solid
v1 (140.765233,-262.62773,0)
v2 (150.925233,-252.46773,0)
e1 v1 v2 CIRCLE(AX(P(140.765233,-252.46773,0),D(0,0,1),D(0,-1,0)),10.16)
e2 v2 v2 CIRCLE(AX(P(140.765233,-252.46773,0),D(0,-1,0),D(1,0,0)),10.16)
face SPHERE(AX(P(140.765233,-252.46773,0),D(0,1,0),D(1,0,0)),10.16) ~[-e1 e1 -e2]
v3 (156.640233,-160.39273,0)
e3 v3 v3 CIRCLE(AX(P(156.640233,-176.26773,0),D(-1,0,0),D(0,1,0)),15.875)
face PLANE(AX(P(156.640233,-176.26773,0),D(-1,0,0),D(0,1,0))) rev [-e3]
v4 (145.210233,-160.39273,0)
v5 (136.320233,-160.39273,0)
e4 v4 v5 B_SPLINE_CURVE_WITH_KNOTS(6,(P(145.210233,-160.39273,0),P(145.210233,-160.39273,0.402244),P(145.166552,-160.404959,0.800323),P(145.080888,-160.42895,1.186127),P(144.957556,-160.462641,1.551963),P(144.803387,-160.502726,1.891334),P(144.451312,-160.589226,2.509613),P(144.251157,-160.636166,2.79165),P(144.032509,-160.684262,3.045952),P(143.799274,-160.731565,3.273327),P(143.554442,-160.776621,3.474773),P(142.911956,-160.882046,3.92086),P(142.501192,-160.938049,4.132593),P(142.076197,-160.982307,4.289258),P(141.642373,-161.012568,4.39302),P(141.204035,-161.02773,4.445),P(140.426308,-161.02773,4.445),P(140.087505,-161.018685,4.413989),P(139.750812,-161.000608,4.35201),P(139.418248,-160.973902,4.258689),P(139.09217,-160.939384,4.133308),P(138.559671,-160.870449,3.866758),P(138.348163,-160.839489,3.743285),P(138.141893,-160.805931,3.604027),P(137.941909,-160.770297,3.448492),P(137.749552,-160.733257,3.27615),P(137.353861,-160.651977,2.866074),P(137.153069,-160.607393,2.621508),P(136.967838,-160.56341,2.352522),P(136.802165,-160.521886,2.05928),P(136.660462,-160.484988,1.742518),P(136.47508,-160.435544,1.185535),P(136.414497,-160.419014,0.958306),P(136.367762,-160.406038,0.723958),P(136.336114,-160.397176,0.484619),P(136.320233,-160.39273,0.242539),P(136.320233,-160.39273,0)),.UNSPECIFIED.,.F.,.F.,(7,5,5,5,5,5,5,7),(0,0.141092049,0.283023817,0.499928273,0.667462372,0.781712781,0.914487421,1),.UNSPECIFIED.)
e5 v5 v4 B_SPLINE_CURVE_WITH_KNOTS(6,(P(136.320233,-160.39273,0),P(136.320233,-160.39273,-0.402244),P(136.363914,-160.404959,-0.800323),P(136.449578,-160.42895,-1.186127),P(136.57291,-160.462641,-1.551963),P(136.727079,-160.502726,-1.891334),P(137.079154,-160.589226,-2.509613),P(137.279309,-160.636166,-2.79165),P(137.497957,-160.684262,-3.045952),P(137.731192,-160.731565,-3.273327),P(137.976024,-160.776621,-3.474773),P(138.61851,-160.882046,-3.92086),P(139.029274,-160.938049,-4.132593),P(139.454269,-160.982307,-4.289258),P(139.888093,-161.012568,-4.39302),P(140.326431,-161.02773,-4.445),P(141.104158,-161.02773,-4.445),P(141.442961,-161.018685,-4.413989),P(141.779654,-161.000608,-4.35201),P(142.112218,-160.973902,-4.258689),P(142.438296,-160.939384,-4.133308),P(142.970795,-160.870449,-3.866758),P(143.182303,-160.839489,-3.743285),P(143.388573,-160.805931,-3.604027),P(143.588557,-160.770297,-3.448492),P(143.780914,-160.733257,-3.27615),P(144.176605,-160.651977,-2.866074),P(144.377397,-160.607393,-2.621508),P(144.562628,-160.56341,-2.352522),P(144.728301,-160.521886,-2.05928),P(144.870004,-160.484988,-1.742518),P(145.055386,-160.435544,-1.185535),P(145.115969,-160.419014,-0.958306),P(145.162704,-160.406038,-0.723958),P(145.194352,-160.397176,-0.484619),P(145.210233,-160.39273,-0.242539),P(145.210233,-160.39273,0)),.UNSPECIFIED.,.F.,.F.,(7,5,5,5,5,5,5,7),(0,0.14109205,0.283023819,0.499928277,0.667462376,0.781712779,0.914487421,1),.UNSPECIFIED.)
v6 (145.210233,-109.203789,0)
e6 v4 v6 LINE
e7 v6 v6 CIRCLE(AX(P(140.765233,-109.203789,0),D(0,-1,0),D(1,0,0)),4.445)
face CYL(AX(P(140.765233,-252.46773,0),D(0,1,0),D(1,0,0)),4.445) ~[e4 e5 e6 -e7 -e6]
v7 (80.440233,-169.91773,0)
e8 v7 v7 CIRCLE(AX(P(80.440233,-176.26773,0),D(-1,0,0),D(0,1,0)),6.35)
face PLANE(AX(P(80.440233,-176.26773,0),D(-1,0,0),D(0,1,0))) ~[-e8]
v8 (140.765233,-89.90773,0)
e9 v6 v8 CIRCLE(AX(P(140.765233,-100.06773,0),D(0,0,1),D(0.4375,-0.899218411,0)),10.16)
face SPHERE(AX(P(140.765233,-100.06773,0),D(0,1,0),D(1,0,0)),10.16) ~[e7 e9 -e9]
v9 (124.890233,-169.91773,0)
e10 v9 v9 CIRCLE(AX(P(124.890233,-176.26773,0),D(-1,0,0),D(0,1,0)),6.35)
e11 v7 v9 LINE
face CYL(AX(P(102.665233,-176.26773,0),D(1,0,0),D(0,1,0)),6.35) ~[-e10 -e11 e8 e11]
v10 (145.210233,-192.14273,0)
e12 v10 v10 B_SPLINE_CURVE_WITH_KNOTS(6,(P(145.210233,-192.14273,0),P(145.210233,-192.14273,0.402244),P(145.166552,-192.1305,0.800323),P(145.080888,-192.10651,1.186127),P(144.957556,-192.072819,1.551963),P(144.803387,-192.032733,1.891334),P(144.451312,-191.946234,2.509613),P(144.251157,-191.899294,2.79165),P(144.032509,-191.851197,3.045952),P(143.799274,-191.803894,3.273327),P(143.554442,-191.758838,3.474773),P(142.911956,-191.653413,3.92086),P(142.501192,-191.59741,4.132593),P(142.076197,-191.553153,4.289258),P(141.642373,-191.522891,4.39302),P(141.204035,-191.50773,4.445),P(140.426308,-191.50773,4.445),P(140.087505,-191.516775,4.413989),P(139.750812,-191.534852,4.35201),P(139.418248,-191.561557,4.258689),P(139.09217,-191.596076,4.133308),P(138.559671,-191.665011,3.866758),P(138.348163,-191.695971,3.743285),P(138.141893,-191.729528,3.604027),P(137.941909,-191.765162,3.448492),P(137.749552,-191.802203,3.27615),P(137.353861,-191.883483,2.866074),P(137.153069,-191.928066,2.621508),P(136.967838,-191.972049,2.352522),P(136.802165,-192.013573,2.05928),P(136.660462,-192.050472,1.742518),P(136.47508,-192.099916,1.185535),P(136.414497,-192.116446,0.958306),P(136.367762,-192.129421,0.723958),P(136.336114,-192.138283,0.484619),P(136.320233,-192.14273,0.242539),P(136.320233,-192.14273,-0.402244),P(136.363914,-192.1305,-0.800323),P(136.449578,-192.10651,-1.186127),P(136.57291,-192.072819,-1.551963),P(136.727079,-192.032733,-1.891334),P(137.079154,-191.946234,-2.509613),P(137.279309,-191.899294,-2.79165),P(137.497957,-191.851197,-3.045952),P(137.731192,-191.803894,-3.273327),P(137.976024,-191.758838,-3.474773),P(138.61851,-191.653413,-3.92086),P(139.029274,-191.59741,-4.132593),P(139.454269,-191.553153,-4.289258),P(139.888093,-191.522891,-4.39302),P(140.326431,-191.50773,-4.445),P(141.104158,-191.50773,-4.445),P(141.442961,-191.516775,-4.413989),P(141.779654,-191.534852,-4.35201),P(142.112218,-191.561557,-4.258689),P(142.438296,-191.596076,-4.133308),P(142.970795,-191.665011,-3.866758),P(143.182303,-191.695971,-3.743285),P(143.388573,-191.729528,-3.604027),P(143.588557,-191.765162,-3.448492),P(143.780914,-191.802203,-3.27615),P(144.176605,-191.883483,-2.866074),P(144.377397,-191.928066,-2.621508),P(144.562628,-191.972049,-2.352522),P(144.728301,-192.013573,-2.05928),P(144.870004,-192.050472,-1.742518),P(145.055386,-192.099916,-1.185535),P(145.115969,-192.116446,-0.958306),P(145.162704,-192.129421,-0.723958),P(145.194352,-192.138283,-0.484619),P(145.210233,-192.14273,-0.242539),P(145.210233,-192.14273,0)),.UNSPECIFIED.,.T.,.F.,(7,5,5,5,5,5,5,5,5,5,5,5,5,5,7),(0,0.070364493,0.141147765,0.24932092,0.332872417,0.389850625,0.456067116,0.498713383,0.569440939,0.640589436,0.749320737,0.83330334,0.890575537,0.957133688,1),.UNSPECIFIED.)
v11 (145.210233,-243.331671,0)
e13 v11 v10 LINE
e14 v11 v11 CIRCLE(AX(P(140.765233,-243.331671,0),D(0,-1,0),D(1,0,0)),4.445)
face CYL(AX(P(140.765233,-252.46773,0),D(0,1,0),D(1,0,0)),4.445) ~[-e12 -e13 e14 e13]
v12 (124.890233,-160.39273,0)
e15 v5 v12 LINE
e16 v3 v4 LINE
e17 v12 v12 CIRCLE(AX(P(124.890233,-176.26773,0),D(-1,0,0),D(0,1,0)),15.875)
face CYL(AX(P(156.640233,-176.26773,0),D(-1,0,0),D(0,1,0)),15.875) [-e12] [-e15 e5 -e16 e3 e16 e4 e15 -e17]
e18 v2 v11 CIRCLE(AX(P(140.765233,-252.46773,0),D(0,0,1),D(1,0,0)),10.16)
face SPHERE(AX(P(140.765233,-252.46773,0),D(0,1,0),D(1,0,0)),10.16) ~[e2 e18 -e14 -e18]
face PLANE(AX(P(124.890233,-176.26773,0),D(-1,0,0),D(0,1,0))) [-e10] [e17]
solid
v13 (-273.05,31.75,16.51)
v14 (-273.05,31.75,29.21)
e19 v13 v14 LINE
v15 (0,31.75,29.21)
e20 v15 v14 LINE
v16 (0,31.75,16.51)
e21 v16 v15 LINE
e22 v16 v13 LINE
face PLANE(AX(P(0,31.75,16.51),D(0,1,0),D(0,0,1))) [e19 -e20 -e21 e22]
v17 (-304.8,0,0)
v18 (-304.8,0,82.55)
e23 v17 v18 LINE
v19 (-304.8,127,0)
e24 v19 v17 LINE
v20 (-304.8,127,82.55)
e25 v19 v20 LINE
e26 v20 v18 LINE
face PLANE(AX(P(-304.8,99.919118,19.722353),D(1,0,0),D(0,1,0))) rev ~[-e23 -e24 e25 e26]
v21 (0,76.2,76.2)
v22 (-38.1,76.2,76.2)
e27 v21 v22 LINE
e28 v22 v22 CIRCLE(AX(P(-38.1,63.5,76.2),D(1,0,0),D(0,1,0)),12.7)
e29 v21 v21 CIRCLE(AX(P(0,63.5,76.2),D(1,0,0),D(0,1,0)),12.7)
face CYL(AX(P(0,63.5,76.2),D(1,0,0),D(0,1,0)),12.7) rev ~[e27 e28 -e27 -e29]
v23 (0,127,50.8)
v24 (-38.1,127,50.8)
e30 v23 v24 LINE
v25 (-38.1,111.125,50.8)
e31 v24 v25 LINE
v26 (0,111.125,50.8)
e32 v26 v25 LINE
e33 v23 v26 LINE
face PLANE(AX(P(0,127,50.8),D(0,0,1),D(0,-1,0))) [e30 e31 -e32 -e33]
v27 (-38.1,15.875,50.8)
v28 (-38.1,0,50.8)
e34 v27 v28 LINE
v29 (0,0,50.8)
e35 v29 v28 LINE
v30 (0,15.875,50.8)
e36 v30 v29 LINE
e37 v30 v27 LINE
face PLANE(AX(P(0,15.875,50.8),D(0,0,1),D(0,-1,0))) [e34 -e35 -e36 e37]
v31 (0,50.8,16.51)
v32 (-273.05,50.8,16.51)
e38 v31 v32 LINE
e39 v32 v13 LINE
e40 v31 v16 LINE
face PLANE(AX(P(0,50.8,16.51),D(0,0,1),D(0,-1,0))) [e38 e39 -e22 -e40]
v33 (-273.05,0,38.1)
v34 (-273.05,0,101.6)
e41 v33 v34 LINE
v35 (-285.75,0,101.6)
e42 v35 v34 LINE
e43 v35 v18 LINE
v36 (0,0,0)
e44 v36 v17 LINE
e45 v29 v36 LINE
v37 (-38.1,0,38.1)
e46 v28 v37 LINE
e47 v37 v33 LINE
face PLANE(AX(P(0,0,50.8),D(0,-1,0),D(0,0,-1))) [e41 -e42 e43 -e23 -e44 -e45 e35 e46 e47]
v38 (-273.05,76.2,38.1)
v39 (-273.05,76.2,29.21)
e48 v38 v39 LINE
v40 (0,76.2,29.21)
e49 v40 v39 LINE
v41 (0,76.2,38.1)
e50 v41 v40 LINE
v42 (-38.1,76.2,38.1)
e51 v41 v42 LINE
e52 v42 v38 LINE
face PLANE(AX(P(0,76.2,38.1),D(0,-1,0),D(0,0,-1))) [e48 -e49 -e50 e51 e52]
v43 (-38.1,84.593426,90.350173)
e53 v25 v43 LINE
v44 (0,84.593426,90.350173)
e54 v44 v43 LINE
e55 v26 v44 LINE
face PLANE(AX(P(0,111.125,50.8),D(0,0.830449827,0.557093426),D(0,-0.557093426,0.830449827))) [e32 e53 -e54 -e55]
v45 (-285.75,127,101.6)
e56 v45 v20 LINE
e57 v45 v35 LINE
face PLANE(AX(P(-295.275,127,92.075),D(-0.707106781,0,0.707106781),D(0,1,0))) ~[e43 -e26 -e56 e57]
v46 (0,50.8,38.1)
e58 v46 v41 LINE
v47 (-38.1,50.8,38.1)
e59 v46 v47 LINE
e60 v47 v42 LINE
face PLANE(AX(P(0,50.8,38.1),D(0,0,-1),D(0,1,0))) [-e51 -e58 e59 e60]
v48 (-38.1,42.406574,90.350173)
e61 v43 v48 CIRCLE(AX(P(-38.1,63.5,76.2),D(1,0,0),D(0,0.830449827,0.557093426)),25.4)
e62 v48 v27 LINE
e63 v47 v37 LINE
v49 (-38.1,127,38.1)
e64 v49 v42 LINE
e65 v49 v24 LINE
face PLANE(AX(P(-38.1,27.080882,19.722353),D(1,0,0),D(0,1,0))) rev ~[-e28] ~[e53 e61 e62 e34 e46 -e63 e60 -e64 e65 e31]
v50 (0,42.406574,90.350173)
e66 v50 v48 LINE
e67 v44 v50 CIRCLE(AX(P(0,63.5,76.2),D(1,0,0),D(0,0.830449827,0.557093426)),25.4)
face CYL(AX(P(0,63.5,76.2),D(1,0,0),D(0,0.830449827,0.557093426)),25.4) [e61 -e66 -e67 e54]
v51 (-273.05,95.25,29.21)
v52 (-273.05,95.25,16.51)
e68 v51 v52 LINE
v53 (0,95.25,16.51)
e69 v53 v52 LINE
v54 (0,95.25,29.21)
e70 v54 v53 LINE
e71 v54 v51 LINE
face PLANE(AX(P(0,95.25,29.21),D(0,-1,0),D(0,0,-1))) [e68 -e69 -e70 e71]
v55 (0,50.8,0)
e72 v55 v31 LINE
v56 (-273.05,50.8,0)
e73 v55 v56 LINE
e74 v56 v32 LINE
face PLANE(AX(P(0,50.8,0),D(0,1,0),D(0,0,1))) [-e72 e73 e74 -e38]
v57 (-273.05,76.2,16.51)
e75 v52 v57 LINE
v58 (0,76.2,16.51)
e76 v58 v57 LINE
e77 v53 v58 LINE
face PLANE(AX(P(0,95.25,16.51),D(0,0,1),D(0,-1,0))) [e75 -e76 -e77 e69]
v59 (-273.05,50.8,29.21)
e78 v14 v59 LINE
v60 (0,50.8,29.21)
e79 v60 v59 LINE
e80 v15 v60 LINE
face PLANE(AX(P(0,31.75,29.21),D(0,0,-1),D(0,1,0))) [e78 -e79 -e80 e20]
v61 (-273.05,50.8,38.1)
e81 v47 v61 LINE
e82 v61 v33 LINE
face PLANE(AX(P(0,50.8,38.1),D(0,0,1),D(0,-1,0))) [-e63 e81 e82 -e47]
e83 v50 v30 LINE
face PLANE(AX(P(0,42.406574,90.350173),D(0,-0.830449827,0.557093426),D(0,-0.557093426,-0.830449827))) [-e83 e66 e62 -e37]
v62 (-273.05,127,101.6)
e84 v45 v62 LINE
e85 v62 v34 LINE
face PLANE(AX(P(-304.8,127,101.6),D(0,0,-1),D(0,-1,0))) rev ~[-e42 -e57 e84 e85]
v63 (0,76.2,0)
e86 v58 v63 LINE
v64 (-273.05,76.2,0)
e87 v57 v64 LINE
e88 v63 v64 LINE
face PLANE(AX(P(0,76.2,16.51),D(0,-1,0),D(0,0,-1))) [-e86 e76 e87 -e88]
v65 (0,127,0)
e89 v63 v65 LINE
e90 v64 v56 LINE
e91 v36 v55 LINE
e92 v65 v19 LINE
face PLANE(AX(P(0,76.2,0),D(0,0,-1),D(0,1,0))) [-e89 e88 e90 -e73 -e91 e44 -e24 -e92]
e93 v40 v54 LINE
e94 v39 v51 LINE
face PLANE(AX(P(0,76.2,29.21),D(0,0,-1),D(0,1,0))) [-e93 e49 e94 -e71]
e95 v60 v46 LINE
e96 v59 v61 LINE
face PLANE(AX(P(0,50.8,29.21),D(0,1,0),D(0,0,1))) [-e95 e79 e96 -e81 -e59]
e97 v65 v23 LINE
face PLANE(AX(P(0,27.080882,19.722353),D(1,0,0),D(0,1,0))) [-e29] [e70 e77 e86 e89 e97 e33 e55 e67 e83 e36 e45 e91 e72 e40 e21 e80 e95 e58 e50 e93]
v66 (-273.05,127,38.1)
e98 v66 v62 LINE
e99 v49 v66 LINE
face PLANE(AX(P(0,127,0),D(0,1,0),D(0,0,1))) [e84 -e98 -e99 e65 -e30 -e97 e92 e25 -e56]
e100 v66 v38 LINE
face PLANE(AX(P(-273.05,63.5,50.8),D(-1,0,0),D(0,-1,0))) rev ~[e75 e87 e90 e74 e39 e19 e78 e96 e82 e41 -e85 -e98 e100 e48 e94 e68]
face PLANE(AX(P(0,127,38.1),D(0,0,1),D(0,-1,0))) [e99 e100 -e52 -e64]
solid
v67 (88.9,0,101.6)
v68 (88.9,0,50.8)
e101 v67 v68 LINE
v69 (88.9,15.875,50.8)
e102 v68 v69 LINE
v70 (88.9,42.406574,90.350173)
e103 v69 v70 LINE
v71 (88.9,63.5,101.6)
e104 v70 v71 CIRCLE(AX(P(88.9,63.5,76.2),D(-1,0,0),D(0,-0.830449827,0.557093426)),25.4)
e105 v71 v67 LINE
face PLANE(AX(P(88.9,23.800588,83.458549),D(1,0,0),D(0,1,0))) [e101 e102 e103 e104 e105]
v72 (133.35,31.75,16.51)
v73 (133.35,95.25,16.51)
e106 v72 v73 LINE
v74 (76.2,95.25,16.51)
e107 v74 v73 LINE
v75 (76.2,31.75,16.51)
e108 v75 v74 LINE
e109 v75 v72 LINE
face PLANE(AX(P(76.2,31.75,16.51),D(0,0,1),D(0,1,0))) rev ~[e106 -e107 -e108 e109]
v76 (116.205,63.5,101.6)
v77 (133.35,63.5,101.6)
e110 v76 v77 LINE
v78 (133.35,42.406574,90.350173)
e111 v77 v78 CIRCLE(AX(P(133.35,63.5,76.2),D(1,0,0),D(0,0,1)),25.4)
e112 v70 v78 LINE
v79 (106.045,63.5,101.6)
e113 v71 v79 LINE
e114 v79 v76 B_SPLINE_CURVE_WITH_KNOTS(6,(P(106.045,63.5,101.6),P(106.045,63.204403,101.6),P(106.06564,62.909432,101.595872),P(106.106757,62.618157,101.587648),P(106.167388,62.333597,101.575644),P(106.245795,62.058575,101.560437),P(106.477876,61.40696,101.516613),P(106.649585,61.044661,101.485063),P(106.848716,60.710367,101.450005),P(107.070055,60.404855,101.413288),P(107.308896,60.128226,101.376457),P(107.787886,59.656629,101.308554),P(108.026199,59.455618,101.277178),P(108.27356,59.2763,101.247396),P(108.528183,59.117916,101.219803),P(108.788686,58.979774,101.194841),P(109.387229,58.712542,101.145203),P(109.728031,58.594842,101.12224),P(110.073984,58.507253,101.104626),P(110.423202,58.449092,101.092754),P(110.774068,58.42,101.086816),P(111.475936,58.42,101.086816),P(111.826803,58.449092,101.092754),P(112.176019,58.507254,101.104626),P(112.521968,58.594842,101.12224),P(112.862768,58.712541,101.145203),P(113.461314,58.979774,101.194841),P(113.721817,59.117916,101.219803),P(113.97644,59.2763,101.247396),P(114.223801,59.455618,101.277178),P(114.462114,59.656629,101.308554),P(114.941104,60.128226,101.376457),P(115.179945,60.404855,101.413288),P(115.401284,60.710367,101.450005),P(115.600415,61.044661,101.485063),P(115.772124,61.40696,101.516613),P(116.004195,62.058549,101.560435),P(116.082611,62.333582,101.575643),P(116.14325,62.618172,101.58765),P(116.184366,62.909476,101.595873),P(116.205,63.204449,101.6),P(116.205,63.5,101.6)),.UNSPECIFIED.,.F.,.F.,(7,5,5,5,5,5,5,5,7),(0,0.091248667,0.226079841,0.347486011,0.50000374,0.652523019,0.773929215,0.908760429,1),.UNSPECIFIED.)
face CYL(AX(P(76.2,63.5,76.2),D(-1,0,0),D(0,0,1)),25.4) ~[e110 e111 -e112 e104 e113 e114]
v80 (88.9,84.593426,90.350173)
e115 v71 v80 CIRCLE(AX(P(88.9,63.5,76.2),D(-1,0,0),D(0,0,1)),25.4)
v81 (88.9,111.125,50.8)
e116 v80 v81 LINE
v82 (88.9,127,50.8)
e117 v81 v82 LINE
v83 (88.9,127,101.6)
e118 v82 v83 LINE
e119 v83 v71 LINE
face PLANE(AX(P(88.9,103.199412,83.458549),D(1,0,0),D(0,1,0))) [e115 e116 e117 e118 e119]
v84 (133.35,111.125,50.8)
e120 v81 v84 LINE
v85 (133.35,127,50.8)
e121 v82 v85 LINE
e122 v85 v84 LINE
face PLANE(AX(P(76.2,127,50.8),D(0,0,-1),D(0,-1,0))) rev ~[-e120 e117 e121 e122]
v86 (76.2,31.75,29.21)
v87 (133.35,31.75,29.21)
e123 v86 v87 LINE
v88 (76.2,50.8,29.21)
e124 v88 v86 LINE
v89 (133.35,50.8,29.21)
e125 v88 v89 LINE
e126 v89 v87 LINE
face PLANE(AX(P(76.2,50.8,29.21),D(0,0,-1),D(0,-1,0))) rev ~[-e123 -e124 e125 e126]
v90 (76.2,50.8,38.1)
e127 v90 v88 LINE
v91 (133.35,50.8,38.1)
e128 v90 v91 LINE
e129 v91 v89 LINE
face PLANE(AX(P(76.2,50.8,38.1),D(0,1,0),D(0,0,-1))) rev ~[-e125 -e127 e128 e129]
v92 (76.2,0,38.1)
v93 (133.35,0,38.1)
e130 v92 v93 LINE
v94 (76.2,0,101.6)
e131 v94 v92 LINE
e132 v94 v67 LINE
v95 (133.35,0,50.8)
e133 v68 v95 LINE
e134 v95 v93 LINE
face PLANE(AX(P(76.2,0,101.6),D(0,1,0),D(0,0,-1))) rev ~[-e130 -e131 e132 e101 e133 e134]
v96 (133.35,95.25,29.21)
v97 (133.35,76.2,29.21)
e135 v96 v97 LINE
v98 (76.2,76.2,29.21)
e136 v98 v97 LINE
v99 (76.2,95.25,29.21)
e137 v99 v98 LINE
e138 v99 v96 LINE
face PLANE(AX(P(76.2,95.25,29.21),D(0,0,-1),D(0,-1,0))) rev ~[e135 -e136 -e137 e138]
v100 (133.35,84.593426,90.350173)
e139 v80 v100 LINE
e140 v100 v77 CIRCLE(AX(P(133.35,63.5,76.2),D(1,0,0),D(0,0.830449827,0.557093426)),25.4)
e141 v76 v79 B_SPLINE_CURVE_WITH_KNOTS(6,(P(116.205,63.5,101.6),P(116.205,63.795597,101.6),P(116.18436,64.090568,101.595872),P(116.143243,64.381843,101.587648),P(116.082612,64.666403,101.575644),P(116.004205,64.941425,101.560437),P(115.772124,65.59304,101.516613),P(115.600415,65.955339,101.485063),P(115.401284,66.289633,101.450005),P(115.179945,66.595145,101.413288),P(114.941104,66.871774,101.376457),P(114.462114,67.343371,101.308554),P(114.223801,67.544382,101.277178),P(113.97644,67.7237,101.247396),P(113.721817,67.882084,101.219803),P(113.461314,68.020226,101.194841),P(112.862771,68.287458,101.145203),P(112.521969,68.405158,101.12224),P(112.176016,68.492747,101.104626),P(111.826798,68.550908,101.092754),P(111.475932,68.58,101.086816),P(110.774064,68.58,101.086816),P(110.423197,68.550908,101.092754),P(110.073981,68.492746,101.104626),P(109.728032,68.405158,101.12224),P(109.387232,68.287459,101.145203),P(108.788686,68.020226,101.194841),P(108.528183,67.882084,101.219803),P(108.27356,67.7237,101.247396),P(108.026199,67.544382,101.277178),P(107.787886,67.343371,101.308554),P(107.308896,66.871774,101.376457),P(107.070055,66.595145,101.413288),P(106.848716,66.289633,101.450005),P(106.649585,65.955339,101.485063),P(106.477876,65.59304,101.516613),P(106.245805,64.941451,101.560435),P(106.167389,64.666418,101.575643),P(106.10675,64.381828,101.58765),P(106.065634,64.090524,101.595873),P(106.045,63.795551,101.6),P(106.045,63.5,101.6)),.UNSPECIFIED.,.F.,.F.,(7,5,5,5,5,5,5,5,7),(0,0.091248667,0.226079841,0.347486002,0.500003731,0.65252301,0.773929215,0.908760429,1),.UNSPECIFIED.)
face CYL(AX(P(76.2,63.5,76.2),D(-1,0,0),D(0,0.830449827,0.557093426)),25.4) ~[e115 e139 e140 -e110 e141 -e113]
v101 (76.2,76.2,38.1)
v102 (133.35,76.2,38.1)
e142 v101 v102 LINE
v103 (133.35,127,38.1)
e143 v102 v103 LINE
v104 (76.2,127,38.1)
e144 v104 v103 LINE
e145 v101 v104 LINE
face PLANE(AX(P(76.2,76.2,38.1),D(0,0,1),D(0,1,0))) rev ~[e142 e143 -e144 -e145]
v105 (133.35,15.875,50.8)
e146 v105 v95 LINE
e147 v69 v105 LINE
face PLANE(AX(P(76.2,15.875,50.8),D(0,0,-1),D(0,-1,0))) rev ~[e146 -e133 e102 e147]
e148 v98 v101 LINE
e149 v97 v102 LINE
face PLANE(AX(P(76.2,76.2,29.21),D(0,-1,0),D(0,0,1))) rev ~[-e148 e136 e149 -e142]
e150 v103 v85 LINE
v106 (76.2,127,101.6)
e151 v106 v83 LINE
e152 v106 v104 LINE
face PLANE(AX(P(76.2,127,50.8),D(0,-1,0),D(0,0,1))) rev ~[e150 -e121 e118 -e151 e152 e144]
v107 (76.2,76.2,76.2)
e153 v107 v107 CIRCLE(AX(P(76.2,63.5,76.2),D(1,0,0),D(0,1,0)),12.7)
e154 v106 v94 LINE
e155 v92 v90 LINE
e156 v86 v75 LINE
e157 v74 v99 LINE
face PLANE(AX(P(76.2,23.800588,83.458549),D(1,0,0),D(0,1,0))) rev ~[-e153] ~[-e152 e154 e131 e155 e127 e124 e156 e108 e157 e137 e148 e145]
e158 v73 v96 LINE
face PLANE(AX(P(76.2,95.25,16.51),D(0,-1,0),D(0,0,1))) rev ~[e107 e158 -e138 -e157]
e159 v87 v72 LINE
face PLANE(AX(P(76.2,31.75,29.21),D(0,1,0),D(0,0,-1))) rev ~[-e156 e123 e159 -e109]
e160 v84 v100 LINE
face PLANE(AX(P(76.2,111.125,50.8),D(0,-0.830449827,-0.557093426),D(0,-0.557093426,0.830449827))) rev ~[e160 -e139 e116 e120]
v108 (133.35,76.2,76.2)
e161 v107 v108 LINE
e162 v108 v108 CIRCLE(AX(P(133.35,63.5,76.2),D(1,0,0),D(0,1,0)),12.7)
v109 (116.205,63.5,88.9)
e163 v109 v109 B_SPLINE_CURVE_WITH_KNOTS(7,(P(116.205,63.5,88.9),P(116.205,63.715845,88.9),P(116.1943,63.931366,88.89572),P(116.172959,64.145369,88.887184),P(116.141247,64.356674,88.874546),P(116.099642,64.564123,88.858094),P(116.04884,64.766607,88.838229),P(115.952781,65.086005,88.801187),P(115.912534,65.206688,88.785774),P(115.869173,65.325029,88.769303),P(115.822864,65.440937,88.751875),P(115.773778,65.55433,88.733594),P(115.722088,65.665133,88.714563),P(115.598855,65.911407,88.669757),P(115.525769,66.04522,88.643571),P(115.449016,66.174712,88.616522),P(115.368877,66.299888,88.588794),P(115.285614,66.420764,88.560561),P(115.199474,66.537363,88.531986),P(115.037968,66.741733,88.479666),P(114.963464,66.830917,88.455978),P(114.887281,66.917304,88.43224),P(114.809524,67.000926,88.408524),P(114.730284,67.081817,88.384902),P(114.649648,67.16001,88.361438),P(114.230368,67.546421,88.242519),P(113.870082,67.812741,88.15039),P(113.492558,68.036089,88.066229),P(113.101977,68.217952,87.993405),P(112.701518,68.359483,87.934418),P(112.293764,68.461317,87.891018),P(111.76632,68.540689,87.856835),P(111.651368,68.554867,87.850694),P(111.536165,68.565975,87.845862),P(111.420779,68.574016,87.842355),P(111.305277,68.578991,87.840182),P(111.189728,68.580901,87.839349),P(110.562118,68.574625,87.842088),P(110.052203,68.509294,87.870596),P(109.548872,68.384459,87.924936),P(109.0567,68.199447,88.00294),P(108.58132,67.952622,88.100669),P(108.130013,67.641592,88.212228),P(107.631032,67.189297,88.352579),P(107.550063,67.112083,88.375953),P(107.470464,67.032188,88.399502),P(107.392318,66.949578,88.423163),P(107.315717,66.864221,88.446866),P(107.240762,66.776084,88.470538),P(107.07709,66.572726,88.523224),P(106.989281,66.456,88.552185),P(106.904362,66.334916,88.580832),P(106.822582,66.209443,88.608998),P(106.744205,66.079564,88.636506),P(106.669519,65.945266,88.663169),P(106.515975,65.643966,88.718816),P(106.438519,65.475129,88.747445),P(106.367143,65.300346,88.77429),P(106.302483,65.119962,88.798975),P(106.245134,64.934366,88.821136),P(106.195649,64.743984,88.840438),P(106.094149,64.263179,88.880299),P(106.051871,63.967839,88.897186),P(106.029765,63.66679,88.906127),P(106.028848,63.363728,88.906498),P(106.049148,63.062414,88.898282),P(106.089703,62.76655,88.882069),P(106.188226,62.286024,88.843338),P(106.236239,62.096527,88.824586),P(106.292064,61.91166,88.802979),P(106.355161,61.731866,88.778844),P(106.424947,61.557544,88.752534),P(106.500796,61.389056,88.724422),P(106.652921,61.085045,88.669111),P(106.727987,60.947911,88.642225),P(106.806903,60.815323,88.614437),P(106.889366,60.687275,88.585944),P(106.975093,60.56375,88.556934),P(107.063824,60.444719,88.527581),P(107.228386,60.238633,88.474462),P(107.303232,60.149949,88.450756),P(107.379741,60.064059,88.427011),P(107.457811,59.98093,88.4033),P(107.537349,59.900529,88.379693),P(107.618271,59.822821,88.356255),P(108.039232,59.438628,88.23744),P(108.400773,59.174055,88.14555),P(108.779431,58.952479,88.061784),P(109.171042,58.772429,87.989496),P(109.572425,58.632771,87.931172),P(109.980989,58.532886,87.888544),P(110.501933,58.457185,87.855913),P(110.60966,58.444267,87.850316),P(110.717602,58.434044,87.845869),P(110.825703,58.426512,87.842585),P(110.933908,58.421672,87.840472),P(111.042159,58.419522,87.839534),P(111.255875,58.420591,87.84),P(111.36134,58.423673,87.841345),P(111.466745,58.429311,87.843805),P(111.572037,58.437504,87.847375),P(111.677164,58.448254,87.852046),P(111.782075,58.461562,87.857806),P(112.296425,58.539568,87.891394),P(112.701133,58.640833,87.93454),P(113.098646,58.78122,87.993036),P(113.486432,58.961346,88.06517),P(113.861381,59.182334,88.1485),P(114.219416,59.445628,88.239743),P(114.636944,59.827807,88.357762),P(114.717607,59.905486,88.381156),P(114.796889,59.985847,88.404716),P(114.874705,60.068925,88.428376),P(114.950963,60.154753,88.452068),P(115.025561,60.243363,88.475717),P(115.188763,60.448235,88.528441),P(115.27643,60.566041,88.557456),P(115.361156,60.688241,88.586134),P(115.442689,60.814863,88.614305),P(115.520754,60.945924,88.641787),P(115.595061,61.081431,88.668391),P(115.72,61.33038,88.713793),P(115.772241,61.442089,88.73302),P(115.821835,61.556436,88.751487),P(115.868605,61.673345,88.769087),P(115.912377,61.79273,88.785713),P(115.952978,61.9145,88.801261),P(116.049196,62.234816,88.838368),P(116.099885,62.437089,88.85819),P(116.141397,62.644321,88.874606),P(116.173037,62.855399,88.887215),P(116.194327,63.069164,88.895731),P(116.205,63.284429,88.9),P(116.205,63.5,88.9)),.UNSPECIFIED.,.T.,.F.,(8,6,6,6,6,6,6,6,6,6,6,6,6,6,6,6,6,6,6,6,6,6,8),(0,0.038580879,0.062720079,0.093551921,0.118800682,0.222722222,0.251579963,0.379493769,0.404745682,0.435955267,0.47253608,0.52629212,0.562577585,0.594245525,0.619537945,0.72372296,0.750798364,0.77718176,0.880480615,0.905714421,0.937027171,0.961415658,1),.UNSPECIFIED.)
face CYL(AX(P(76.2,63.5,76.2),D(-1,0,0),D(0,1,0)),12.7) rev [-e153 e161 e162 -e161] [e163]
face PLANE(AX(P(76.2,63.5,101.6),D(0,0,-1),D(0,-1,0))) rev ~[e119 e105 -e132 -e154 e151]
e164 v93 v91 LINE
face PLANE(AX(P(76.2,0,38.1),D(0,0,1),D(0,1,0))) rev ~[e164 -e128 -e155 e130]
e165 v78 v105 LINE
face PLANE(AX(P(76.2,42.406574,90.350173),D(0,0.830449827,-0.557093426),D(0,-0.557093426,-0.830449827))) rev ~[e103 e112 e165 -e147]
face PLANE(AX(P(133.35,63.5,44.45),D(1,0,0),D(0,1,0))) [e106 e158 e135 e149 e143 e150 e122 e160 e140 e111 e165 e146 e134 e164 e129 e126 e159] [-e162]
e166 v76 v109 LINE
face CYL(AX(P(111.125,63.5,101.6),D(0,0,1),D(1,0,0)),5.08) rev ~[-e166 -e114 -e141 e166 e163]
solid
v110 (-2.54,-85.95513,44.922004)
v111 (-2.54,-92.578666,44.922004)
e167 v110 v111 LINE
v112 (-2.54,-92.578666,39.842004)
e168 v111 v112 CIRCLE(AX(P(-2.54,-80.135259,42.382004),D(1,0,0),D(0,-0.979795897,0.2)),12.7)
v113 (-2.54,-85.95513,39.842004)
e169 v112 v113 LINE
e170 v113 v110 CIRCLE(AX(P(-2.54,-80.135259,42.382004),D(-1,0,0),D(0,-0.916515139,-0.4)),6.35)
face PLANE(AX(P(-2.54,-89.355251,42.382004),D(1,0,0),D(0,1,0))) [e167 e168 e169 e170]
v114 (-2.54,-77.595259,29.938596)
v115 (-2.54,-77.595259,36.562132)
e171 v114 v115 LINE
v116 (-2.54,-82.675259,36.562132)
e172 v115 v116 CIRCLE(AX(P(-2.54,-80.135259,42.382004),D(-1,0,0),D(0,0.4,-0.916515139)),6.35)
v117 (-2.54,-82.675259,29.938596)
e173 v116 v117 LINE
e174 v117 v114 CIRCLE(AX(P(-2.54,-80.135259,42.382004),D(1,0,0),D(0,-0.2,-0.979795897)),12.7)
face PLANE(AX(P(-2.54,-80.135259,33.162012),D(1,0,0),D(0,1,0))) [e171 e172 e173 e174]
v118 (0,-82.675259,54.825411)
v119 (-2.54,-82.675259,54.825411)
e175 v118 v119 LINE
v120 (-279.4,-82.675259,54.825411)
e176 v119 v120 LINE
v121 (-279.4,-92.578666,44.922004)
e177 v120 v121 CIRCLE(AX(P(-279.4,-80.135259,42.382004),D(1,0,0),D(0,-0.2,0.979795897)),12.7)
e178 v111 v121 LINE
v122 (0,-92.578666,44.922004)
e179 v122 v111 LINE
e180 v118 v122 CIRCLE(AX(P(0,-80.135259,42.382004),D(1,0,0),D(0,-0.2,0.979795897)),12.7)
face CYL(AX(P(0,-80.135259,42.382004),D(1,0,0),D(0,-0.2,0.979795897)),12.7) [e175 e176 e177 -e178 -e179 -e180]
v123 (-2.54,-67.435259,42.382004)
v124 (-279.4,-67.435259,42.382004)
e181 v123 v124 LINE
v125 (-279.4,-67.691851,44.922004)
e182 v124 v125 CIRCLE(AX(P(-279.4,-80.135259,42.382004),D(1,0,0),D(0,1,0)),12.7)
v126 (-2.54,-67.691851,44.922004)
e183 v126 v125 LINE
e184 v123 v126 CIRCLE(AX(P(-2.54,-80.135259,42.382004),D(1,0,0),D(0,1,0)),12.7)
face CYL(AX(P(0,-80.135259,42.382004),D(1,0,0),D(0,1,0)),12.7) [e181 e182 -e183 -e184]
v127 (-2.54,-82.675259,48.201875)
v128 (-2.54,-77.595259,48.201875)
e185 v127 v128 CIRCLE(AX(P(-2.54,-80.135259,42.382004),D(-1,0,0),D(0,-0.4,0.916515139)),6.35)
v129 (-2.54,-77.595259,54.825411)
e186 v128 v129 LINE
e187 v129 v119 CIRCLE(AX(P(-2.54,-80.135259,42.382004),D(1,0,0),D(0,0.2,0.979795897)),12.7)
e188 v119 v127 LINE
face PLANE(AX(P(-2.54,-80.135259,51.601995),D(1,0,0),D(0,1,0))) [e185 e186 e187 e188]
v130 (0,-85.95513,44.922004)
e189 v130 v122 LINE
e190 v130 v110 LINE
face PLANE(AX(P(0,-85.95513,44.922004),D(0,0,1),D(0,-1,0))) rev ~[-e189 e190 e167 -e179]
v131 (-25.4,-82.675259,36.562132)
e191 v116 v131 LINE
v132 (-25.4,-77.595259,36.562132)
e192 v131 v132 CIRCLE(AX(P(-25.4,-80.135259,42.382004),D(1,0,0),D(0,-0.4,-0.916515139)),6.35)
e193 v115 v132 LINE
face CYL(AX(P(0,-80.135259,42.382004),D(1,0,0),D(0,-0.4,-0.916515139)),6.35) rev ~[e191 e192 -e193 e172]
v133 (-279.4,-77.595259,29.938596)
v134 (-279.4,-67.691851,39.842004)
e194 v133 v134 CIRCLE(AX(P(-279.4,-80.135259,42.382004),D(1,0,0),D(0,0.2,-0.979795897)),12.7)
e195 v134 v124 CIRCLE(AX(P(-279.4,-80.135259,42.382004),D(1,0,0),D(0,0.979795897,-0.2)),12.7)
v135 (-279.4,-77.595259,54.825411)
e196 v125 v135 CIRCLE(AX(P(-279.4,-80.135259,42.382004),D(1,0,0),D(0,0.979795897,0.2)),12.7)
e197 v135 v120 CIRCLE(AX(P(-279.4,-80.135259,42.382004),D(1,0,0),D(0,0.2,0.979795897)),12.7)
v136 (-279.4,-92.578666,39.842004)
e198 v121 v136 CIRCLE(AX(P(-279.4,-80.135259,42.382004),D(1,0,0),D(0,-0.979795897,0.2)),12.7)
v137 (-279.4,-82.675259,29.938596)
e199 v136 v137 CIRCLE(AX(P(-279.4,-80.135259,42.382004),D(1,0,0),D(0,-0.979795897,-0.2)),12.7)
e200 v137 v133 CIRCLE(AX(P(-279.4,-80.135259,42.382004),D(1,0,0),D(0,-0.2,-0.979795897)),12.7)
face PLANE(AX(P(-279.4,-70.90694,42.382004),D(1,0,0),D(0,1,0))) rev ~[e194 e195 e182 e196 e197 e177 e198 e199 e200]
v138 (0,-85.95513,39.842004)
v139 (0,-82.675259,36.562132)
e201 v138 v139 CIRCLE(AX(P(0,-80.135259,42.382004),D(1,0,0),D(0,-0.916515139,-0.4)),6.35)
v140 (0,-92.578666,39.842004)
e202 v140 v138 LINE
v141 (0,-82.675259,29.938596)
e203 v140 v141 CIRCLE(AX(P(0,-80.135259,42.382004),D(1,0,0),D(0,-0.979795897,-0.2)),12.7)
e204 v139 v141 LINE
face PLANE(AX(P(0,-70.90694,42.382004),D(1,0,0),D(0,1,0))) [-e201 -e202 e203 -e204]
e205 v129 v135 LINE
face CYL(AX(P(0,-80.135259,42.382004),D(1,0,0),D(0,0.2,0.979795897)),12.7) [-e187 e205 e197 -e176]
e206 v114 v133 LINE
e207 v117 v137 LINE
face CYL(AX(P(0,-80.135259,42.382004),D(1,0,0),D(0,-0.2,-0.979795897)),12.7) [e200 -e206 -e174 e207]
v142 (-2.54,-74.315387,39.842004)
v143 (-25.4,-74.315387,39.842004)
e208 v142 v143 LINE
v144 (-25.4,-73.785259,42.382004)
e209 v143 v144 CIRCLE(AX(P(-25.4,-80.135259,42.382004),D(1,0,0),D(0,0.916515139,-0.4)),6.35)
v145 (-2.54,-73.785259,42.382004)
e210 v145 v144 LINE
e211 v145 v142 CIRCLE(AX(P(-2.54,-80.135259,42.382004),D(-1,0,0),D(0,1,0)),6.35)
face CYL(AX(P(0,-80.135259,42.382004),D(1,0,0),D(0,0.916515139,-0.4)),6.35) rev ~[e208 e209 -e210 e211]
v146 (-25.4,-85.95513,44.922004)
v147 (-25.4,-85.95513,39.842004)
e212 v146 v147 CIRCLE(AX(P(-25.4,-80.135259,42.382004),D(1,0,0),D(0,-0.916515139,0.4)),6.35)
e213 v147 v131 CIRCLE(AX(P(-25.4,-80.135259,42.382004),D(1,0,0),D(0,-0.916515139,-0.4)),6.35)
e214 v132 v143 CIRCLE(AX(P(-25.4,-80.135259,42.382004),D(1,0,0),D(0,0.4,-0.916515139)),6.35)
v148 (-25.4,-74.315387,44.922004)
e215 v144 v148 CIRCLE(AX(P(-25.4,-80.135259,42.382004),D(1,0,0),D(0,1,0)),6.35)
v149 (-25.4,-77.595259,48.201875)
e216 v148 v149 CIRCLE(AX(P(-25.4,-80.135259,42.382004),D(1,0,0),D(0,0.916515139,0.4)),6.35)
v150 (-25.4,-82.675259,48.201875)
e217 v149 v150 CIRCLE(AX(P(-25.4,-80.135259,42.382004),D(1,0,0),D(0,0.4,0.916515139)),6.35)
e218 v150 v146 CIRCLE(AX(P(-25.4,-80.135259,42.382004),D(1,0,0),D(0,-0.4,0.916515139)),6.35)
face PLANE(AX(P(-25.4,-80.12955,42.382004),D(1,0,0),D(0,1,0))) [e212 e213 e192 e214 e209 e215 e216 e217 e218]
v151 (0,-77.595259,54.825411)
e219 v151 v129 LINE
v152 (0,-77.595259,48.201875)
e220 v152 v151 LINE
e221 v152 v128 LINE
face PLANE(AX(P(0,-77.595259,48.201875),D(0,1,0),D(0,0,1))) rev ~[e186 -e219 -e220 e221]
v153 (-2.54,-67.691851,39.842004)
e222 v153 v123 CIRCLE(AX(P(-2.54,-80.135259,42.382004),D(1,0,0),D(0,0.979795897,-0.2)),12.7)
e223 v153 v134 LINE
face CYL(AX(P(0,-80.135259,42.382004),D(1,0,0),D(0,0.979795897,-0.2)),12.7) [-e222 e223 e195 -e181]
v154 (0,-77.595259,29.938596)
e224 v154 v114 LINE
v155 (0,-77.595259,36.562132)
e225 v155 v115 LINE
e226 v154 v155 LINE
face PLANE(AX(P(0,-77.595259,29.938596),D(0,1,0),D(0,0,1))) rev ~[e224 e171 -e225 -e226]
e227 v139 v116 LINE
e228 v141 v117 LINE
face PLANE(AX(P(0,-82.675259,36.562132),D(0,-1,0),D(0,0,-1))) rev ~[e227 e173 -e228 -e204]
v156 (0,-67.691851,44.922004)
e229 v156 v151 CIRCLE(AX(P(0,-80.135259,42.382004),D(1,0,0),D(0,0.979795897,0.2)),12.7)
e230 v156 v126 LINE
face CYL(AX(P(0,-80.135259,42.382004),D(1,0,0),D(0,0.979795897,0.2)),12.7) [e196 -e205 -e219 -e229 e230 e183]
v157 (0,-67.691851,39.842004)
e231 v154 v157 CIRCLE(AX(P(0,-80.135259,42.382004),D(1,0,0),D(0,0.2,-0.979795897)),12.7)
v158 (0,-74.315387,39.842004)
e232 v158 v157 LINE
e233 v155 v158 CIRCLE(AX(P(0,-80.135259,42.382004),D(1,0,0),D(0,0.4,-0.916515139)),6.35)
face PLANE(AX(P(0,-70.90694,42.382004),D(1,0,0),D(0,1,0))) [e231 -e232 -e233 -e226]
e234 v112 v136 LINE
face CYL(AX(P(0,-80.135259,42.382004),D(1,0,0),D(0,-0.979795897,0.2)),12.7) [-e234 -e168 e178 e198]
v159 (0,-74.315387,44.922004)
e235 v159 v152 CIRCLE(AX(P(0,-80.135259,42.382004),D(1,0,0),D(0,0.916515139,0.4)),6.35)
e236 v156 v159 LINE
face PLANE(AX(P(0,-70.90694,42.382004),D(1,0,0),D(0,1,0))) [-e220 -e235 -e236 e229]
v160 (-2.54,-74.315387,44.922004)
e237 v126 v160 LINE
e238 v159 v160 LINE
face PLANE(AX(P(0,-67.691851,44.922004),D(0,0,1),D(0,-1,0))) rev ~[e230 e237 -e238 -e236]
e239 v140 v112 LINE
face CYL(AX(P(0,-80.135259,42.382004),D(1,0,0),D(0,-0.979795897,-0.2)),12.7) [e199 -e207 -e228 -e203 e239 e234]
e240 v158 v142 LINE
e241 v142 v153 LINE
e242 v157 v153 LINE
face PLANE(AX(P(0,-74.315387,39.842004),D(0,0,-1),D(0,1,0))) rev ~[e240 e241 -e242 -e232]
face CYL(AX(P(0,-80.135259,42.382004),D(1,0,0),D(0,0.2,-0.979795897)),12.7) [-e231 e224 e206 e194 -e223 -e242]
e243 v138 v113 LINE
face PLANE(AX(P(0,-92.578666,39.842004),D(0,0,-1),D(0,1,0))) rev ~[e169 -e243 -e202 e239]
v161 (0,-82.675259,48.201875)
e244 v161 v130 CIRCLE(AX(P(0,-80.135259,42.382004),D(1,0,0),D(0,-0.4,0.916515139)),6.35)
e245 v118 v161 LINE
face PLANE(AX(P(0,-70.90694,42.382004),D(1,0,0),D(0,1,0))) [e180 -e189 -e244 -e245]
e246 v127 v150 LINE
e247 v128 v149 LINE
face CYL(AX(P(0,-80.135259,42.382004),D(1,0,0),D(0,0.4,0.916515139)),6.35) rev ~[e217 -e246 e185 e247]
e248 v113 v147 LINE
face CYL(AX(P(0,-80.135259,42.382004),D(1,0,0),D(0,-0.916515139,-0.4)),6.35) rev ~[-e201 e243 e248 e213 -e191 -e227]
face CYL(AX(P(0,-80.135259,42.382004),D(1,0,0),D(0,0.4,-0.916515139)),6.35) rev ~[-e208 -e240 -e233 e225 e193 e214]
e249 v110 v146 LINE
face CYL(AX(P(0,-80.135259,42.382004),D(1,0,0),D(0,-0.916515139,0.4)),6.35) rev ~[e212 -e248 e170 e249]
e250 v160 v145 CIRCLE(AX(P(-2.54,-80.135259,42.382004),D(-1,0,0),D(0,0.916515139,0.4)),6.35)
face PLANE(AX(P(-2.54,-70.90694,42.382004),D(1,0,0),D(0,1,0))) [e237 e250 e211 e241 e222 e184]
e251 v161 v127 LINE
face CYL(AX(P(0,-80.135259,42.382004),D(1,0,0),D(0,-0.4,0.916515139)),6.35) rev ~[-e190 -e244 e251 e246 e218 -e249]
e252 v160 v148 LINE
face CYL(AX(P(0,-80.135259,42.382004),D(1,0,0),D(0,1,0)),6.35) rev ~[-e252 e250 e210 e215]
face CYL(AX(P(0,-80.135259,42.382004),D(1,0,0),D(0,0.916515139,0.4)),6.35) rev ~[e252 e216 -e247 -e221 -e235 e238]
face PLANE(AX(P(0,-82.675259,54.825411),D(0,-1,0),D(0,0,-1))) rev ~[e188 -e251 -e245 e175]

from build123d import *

# Parameters (mm, degrees)
F0_R      = 12.7
F1_DEPTH  = 38.1
F2_DEPTH  = 304.8
F3_W      = 127
F3_H      = 101.6
F4_DEPTH  = 31.75
F5_SIZE2  = 19.05
F5_SIZE   = 19.05
F7_R      = 12.7
F8_DEPTH  = 57.15
F9_DEPTH  = 12.7
F10_R     = 5.08
F11_DEPTH = 14.7602578338
F13_DEPTH = 279.4
F14_DEPTH = 25.4
F15_DEPTH = 2.54
F16_W     = 4.445
F16_H     = 15.875
F16_W_2   = 11.43
F16_W_3   = 44.45
F16_H_2   = 6.35


with BuildPart() as f1:
    # F0 (on Right) → F1 (new body)
    with BuildSketch(Plane.YZ):
        Polygon((0, 38.1), (0, 0), (50.8, 0), (50.8, 16.51), (31.75, 16.51), (31.75, 29.21), (50.8, 29.21), (50.8, 38.1), align=None)
        Polygon((76.2, 16.51), (76.2, 0), (127, 0), (127, 38.1), (76.2, 38.1), (76.2, 29.21), (95.25, 29.21), (95.25, 16.51), align=None)
        with BuildLine():
            Line((42.4065743945, 90.3501730104), (15.875, 50.8))
            Line((15.875, 50.8), (111.125, 50.8))
            Line((111.125, 50.8), (84.5934256055, 90.3501730104))
            ThreePointArc((84.5934256055, 90.3501730104), (63.5, 101.6), (42.4065743945, 90.3501730104))
        make_face()
        with Locations((63.5, 76.2)):
            Circle(F0_R, mode=Mode.SUBTRACT)
        Polygon((0, 50.8), (0, 38.1), (50.8, 38.1), (76.2, 38.1), (127, 38.1), (127, 50.8), (111.125, 50.8), (15.875, 50.8), align=None)
    extrude(amount=-F1_DEPTH)

    # F0 (on Right) → F2 (join)
    with BuildSketch(Plane.YZ):
        Polygon((76.2, 16.51), (76.2, 0), (127, 0), (127, 38.1), (76.2, 38.1), (76.2, 29.21), (95.25, 29.21), (95.25, 16.51), align=None)
        Polygon((0, 38.1), (0, 0), (50.8, 0), (50.8, 16.51), (31.75, 16.51), (31.75, 29.21), (50.8, 29.21), (50.8, 38.1), align=None)
    extrude(amount=-F2_DEPTH)

    # F3 (on face) → F4 (join)
    with BuildSketch(Plane(origin=(-304.8, 0, 0), x_dir=(0, -1, 0), z_dir=(-1, 0, 0))):
        with Locations((-63.5, 50.8)):
            Rectangle(F3_W, F3_H)
    extrude(amount=-F4_DEPTH)

    # F5
    f5_edges = [f1.edges().sort_by_distance(p)[0] for p in [
        (-304.8, 63.5, 101.6),
    ]]
    chamfer(f5_edges, length=F5_SIZE, length2=F5_SIZE2)


with BuildPart() as f8:
    # F7 (on offset) → F8 (new body)
    with BuildSketch(Plane.YZ.offset(76.2)):
        Polygon((111.125, 50.8), (15.875, 50.8), (0, 50.8), (0, 38.1), (50.8, 38.1), (76.2, 38.1), (127, 38.1), (127, 50.8), align=None)
        with BuildLine():
            Line((42.4065743945, 90.3501730104), (15.875, 50.8))
            Line((15.875, 50.8), (111.125, 50.8))
            Line((111.125, 50.8), (84.5934256055, 90.3501730104))
            ThreePointArc((84.5934256055, 90.3501730104), (75.4529411765, 98.6117647059), (63.5, 101.6))
            ThreePointArc((63.5, 101.6), (51.5470588235, 98.6117647059), (42.4065743945, 90.3501730104))
        make_face()
        with Locations((63.5, 76.2)):
            Circle(F7_R, mode=Mode.SUBTRACT)
        Polygon((76.2, 38.1), (50.8, 38.1), (50.8, 29.21), (31.75, 29.21), (31.75, 16.51), (50.8, 16.51), (76.2, 16.51), (95.25, 16.51), (95.25, 29.21), (76.2, 29.21), align=None)
    extrude(amount=F8_DEPTH)

    # F7 (on offset) → F9 (join)
    with BuildSketch(Plane.YZ.offset(76.2)):
        with BuildLine():
            Line((0, 50.8), (15.875, 50.8))
            Line((15.875, 50.8), (42.4065743945, 90.3501730104))
            ThreePointArc((42.4065743945, 90.3501730104), (51.5470588235, 98.6117647059), (63.5, 101.6))
            Line((63.5, 101.6), (0, 101.6))
            Line((0, 101.6), (0, 50.8))
        make_face()
        with BuildLine():
            Line((84.5934256055, 90.3501730104), (111.125, 50.8))
            Line((111.125, 50.8), (127, 50.8))
            Line((127, 50.8), (127, 101.6))
            Line((127, 101.6), (63.5, 101.6))
            ThreePointArc((63.5, 101.6), (75.4529411765, 98.6117647059), (84.5934256055, 90.3501730104))
        make_face()
    extrude(amount=F9_DEPTH)

    # F10 (on face) → F11 (cut, up to face)
    with BuildSketch(Plane.XY.offset(101.6)):
        with Locations((111.125, 63.5)):
            Circle(F10_R)
    extrude(amount=-F11_DEPTH, mode=Mode.SUBTRACT)


with BuildPart() as f13:
    # F12 (on Right) → F13 (new body)
    with BuildSketch(Plane.YZ):
        with BuildLine():
            ThreePointArc((-74.31538743, 44.9220035141), (-73.9192034755, 43.6793697515), (-73.7852585626, 42.3820035141))
            ThreePointArc((-73.7852585626, 42.3820035141), (-73.9192034755, 41.0846372766), (-74.31538743, 39.8420035141))
            Line((-74.31538743, 39.8420035141), (-67.6918506693, 39.8420035141))
            ThreePointArc((-67.6918506693, 39.8420035141), (-67.4995694194, 41.1055396966), (-67.4352585626, 42.3820035141))
            ThreePointArc((-67.4352585626, 42.3820035141), (-67.4995694194, 43.6584673315), (-67.6918506693, 44.9220035141))
            Line((-67.6918506693, 44.9220035141), (-74.31538743, 44.9220035141))
        make_face()
        with BuildLine():
            ThreePointArc((-77.5952585626, 48.2018746466), (-75.6451305021, 46.8721315746), (-74.31538743, 44.9220035141))
            Line((-74.31538743, 44.9220035141), (-67.6918506693, 44.9220035141))
            ThreePointArc((-67.6918506693, 44.9220035141), (-71.1550024415, 51.3622596351), (-77.5952585626, 54.8254114074))
            Line((-77.5952585626, 54.8254114074), (-77.5952585626, 48.2018746466))
        make_face()
        with BuildLine():
            Line((-67.6918506693, 39.8420035141), (-74.31538743, 39.8420035141))
            ThreePointArc((-74.31538743, 39.8420035141), (-75.6451305021, 37.8918754535), (-77.5952585626, 36.5621323815))
            Line((-77.5952585626, 36.5621323815), (-77.5952585626, 29.9385956207))
            ThreePointArc((-77.5952585626, 29.9385956207), (-71.1550024415, 33.401747393), (-67.6918506693, 39.8420035141))
        make_face()
        with BuildLine():
            ThreePointArc((-82.6752585626, 48.2018746466), (-80.1352585626, 48.7320035141), (-77.5952585626, 48.2018746466))
            Line((-77.5952585626, 48.2018746466), (-77.5952585626, 54.8254114074))
            ThreePointArc((-77.5952585626, 54.8254114074), (-80.1352585626, 55.0820035141), (-82.6752585626, 54.8254114074))
            Line((-82.6752585626, 54.8254114074), (-82.6752585626, 48.2018746466))
        make_face()
        with BuildLine():
            Line((-77.5952585626, 29.9385956207), (-77.5952585626, 36.5621323815))
            ThreePointArc((-77.5952585626, 36.5621323815), (-80.1352585626, 36.0320035141), (-82.6752585626, 36.5621323815))
            Line((-82.6752585626, 36.5621323815), (-82.6752585626, 29.9385956207))
            ThreePointArc((-82.6752585626, 29.9385956207), (-80.1352585626, 29.6820035141), (-77.5952585626, 29.9385956207))
        make_face()
        with BuildLine():
            ThreePointArc((-85.9551296952, 44.9220035141), (-84.6253866231, 46.8721315746), (-82.6752585626, 48.2018746466))
            Line((-82.6752585626, 48.2018746466), (-82.6752585626, 54.8254114074))
            ThreePointArc((-82.6752585626, 54.8254114074), (-89.1155146837, 51.3622596351), (-92.5786664559, 44.9220035141))
            Line((-92.5786664559, 44.9220035141), (-85.9551296952, 44.9220035141))
        make_face()
        with BuildLine():
            Line((-82.6752585626, 29.9385956207), (-82.6752585626, 36.5621323815))
            ThreePointArc((-82.6752585626, 36.5621323815), (-84.6253866231, 37.8918754535), (-85.9551296952, 39.8420035141))
            Line((-85.9551296952, 39.8420035141), (-92.5786664559, 39.8420035141))
            ThreePointArc((-92.5786664559, 39.8420035141), (-89.1155146837, 33.401747393), (-82.6752585626, 29.9385956207))
        make_face()
        with BuildLine():
            ThreePointArc((-85.9551296952, 39.8420035141), (-86.4852585626, 42.3820035141), (-85.9551296952, 44.9220035141))
            Line((-85.9551296952, 44.9220035141), (-92.5786664559, 44.9220035141))
            ThreePointArc((-92.5786664559, 44.9220035141), (-92.8352585626, 42.3820035141), (-92.5786664559, 39.8420035141))
            Line((-92.5786664559, 39.8420035141), (-85.9551296952, 39.8420035141))
        make_face()
        with BuildLine():
            ThreePointArc((-74.31538743, 39.8420035141), (-73.9192034755, 41.0846372766), (-73.7852585626, 42.3820035141))
            ThreePointArc((-73.7852585626, 42.3820035141), (-73.9192034755, 43.6793697515), (-74.31538743, 44.9220035141))
            ThreePointArc((-74.31538743, 44.9220035141), (-75.6451305021, 46.8721315746), (-77.5952585626, 48.2018746466))
            ThreePointArc((-77.5952585626, 48.2018746466), (-80.1352585626, 48.7320035141), (-82.6752585626, 48.2018746466))
            ThreePointArc((-82.6752585626, 48.2018746466), (-84.6253866231, 46.8721315746), (-85.9551296952, 44.9220035141))
            ThreePointArc((-85.9551296952, 44.9220035141), (-86.4852585626, 42.3820035141), (-85.9551296952, 39.8420035141))
            ThreePointArc((-85.9551296952, 39.8420035141), (-84.6253866231, 37.8918754535), (-82.6752585626, 36.5621323815))
            ThreePointArc((-82.6752585626, 36.5621323815), (-80.1352585626, 36.0320035141), (-77.5952585626, 36.5621323815))
            ThreePointArc((-77.5952585626, 36.5621323815), (-75.6451305021, 37.8918754535), (-74.31538743, 39.8420035141))
        make_face()
    extrude(amount=-F13_DEPTH)

    # F12 (on Right) → F14 (cut)
    with BuildSketch(Plane.YZ):
        with BuildLine():
            ThreePointArc((-74.31538743, 39.8420035141), (-73.9192034755, 41.0846372766), (-73.7852585626, 42.3820035141))
            ThreePointArc((-73.7852585626, 42.3820035141), (-73.9192034755, 43.6793697515), (-74.31538743, 44.9220035141))
            ThreePointArc((-74.31538743, 44.9220035141), (-75.6451305021, 46.8721315746), (-77.5952585626, 48.2018746466))
            ThreePointArc((-77.5952585626, 48.2018746466), (-80.1352585626, 48.7320035141), (-82.6752585626, 48.2018746466))
            ThreePointArc((-82.6752585626, 48.2018746466), (-84.6253866231, 46.8721315746), (-85.9551296952, 44.9220035141))
            ThreePointArc((-85.9551296952, 44.9220035141), (-86.4852585626, 42.3820035141), (-85.9551296952, 39.8420035141))
            ThreePointArc((-85.9551296952, 39.8420035141), (-84.6253866231, 37.8918754535), (-82.6752585626, 36.5621323815))
            ThreePointArc((-82.6752585626, 36.5621323815), (-80.1352585626, 36.0320035141), (-77.5952585626, 36.5621323815))
            ThreePointArc((-77.5952585626, 36.5621323815), (-75.6451305021, 37.8918754535), (-74.31538743, 39.8420035141))
        make_face()
    extrude(amount=-F14_DEPTH, mode=Mode.SUBTRACT)

    # F12 (on Right) → F15 (cut)
    with BuildSketch(Plane.YZ):
        with BuildLine():
            ThreePointArc((-82.6752585626, 48.2018746466), (-80.1352585626, 48.7320035141), (-77.5952585626, 48.2018746466))
            Line((-77.5952585626, 48.2018746466), (-77.5952585626, 54.8254114074))
            ThreePointArc((-77.5952585626, 54.8254114074), (-80.1352585626, 55.0820035141), (-82.6752585626, 54.8254114074))
            Line((-82.6752585626, 54.8254114074), (-82.6752585626, 48.2018746466))
        make_face()
        with BuildLine():
            ThreePointArc((-74.31538743, 44.9220035141), (-73.9192034755, 43.6793697515), (-73.7852585626, 42.3820035141))
            ThreePointArc((-73.7852585626, 42.3820035141), (-73.9192034755, 41.0846372766), (-74.31538743, 39.8420035141))
            Line((-74.31538743, 39.8420035141), (-67.6918506693, 39.8420035141))
            ThreePointArc((-67.6918506693, 39.8420035141), (-67.4995694194, 41.1055396966), (-67.4352585626, 42.3820035141))
            ThreePointArc((-67.4352585626, 42.3820035141), (-67.4995694194, 43.6584673315), (-67.6918506693, 44.9220035141))
            Line((-67.6918506693, 44.9220035141), (-74.31538743, 44.9220035141))
        make_face()
        with BuildLine():
            Line((-77.5952585626, 29.9385956207), (-77.5952585626, 36.5621323815))
            ThreePointArc((-77.5952585626, 36.5621323815), (-80.1352585626, 36.0320035141), (-82.6752585626, 36.5621323815))
            Line((-82.6752585626, 36.5621323815), (-82.6752585626, 29.9385956207))
            ThreePointArc((-82.6752585626, 29.9385956207), (-80.1352585626, 29.6820035141), (-77.5952585626, 29.9385956207))
        make_face()
        with BuildLine():
            ThreePointArc((-85.9551296952, 39.8420035141), (-86.4852585626, 42.3820035141), (-85.9551296952, 44.9220035141))
            Line((-85.9551296952, 44.9220035141), (-92.5786664559, 44.9220035141))
            ThreePointArc((-92.5786664559, 44.9220035141), (-92.8352585626, 42.3820035141), (-92.5786664559, 39.8420035141))
            Line((-92.5786664559, 39.8420035141), (-85.9551296952, 39.8420035141))
        make_face()
    extrude(amount=-F15_DEPTH, mode=Mode.SUBTRACT)


with BuildPart() as f17:
    # F16 (on Top) → F17 (revolve)
    with BuildSketch(Plane.XY):
        with BuildLine():
            Line((140.765233001, -100.0677298003), (145.210233001, -100.0677298003))
            Line((145.210233001, -100.0677298003), (145.210233001, -109.2037888522))
            ThreePointArc((145.210233001, -109.2037888522), (149.3787920796, -105.4558834729), (150.925233001, -100.0677298003))
            ThreePointArc((150.925233001, -100.0677298003), (147.9494378978, -92.8835249034), (140.765233001, -89.9077298003))
            Line((140.765233001, -89.9077298003), (140.765233001, -100.0677298003))
        make_face()
        with BuildLine():
            Line((145.210233001, -109.2037888522), (145.210233001, -100.0677298003))
            Line((145.210233001, -100.0677298003), (140.765233001, -100.0677298003))
            Line((140.765233001, -100.0677298003), (140.765233001, -110.2277298003))
            ThreePointArc((140.765233001, -110.2277298003), (143.0459390356, -109.9684358349), (145.210233001, -109.2037888522))
        make_face()
        with BuildLine():
            Line((145.210233001, -160.3927298003), (145.210233001, -109.2037888522))
            ThreePointArc((145.210233001, -109.2037888522), (143.0459390356, -109.9684358349), (140.765233001, -110.2277298003))
            Line((140.765233001, -110.2277298003), (140.765233001, -160.3927298003))
            Line((140.765233001, -160.3927298003), (145.210233001, -160.3927298003))
        make_face()
        with Locations((142.987733001, -168.3302298003)):
            Rectangle(F16_W, F16_H)
        with Locations((142.987733001, -184.2052298003)):
            Rectangle(F16_W, F16_H)
        with BuildLine():
            Line((145.210233001, -243.3316707484), (145.210233001, -192.1427298003))
            Line((145.210233001, -192.1427298003), (140.765233001, -192.1427298003))
            Line((140.765233001, -192.1427298003), (140.765233001, -242.3077298003))
            ThreePointArc((140.765233001, -242.3077298003), (143.0459390356, -242.5670237657), (145.210233001, -243.3316707484))
        make_face()
        with BuildLine():
            Line((145.210233001, -252.4677298003), (145.210233001, -243.3316707484))
            ThreePointArc((145.210233001, -243.3316707484), (143.0459390356, -242.5670237657), (140.765233001, -242.3077298003))
            Line((140.765233001, -242.3077298003), (140.765233001, -252.4677298003))
            Line((140.765233001, -252.4677298003), (145.210233001, -252.4677298003))
        make_face()
        with BuildLine():
            ThreePointArc((150.925233001, -252.4677298003), (149.3787920796, -247.0795761276), (145.210233001, -243.3316707484))
            Line((145.210233001, -243.3316707484), (145.210233001, -252.4677298003))
            Line((145.210233001, -252.4677298003), (140.765233001, -252.4677298003))
            Line((140.765233001, -252.4677298003), (140.765233001, -262.6277298003))
            ThreePointArc((140.765233001, -262.6277298003), (147.9494378978, -259.6519346971), (150.925233001, -252.4677298003))
        make_face()
    revolve(axis=Axis((140.765233001, -176.2677298003, 0), (0, -1, 0)))

    # F16 (on Top) → F18 (revolve)
    with BuildSketch(Plane.XY):
        with Locations((150.925233001, -168.3302298003)):
            Rectangle(F16_W_2, F16_H)
        Polygon((136.320233001, -176.2677298003), (136.320233001, -160.3927298003), (124.890233001, -160.3927298003), (124.890233001, -169.9177298003), (124.890233001, -176.2677298003), align=None)
        with Locations((102.665233001, -173.0927298003)):
            Rectangle(F16_W_3, F16_H_2)
        with Locations((142.987733001, -168.3302298003)):
            Rectangle(F16_W, F16_H)
        with Locations((138.542733001, -168.3302298003)):
            Rectangle(F16_W, F16_H)
    revolve(axis=Axis((118.540233001, -176.2677298003, 0), (-1, 0, 0)))


solid = Compound([f1.part, f8.part, f13.part, f17.part])
